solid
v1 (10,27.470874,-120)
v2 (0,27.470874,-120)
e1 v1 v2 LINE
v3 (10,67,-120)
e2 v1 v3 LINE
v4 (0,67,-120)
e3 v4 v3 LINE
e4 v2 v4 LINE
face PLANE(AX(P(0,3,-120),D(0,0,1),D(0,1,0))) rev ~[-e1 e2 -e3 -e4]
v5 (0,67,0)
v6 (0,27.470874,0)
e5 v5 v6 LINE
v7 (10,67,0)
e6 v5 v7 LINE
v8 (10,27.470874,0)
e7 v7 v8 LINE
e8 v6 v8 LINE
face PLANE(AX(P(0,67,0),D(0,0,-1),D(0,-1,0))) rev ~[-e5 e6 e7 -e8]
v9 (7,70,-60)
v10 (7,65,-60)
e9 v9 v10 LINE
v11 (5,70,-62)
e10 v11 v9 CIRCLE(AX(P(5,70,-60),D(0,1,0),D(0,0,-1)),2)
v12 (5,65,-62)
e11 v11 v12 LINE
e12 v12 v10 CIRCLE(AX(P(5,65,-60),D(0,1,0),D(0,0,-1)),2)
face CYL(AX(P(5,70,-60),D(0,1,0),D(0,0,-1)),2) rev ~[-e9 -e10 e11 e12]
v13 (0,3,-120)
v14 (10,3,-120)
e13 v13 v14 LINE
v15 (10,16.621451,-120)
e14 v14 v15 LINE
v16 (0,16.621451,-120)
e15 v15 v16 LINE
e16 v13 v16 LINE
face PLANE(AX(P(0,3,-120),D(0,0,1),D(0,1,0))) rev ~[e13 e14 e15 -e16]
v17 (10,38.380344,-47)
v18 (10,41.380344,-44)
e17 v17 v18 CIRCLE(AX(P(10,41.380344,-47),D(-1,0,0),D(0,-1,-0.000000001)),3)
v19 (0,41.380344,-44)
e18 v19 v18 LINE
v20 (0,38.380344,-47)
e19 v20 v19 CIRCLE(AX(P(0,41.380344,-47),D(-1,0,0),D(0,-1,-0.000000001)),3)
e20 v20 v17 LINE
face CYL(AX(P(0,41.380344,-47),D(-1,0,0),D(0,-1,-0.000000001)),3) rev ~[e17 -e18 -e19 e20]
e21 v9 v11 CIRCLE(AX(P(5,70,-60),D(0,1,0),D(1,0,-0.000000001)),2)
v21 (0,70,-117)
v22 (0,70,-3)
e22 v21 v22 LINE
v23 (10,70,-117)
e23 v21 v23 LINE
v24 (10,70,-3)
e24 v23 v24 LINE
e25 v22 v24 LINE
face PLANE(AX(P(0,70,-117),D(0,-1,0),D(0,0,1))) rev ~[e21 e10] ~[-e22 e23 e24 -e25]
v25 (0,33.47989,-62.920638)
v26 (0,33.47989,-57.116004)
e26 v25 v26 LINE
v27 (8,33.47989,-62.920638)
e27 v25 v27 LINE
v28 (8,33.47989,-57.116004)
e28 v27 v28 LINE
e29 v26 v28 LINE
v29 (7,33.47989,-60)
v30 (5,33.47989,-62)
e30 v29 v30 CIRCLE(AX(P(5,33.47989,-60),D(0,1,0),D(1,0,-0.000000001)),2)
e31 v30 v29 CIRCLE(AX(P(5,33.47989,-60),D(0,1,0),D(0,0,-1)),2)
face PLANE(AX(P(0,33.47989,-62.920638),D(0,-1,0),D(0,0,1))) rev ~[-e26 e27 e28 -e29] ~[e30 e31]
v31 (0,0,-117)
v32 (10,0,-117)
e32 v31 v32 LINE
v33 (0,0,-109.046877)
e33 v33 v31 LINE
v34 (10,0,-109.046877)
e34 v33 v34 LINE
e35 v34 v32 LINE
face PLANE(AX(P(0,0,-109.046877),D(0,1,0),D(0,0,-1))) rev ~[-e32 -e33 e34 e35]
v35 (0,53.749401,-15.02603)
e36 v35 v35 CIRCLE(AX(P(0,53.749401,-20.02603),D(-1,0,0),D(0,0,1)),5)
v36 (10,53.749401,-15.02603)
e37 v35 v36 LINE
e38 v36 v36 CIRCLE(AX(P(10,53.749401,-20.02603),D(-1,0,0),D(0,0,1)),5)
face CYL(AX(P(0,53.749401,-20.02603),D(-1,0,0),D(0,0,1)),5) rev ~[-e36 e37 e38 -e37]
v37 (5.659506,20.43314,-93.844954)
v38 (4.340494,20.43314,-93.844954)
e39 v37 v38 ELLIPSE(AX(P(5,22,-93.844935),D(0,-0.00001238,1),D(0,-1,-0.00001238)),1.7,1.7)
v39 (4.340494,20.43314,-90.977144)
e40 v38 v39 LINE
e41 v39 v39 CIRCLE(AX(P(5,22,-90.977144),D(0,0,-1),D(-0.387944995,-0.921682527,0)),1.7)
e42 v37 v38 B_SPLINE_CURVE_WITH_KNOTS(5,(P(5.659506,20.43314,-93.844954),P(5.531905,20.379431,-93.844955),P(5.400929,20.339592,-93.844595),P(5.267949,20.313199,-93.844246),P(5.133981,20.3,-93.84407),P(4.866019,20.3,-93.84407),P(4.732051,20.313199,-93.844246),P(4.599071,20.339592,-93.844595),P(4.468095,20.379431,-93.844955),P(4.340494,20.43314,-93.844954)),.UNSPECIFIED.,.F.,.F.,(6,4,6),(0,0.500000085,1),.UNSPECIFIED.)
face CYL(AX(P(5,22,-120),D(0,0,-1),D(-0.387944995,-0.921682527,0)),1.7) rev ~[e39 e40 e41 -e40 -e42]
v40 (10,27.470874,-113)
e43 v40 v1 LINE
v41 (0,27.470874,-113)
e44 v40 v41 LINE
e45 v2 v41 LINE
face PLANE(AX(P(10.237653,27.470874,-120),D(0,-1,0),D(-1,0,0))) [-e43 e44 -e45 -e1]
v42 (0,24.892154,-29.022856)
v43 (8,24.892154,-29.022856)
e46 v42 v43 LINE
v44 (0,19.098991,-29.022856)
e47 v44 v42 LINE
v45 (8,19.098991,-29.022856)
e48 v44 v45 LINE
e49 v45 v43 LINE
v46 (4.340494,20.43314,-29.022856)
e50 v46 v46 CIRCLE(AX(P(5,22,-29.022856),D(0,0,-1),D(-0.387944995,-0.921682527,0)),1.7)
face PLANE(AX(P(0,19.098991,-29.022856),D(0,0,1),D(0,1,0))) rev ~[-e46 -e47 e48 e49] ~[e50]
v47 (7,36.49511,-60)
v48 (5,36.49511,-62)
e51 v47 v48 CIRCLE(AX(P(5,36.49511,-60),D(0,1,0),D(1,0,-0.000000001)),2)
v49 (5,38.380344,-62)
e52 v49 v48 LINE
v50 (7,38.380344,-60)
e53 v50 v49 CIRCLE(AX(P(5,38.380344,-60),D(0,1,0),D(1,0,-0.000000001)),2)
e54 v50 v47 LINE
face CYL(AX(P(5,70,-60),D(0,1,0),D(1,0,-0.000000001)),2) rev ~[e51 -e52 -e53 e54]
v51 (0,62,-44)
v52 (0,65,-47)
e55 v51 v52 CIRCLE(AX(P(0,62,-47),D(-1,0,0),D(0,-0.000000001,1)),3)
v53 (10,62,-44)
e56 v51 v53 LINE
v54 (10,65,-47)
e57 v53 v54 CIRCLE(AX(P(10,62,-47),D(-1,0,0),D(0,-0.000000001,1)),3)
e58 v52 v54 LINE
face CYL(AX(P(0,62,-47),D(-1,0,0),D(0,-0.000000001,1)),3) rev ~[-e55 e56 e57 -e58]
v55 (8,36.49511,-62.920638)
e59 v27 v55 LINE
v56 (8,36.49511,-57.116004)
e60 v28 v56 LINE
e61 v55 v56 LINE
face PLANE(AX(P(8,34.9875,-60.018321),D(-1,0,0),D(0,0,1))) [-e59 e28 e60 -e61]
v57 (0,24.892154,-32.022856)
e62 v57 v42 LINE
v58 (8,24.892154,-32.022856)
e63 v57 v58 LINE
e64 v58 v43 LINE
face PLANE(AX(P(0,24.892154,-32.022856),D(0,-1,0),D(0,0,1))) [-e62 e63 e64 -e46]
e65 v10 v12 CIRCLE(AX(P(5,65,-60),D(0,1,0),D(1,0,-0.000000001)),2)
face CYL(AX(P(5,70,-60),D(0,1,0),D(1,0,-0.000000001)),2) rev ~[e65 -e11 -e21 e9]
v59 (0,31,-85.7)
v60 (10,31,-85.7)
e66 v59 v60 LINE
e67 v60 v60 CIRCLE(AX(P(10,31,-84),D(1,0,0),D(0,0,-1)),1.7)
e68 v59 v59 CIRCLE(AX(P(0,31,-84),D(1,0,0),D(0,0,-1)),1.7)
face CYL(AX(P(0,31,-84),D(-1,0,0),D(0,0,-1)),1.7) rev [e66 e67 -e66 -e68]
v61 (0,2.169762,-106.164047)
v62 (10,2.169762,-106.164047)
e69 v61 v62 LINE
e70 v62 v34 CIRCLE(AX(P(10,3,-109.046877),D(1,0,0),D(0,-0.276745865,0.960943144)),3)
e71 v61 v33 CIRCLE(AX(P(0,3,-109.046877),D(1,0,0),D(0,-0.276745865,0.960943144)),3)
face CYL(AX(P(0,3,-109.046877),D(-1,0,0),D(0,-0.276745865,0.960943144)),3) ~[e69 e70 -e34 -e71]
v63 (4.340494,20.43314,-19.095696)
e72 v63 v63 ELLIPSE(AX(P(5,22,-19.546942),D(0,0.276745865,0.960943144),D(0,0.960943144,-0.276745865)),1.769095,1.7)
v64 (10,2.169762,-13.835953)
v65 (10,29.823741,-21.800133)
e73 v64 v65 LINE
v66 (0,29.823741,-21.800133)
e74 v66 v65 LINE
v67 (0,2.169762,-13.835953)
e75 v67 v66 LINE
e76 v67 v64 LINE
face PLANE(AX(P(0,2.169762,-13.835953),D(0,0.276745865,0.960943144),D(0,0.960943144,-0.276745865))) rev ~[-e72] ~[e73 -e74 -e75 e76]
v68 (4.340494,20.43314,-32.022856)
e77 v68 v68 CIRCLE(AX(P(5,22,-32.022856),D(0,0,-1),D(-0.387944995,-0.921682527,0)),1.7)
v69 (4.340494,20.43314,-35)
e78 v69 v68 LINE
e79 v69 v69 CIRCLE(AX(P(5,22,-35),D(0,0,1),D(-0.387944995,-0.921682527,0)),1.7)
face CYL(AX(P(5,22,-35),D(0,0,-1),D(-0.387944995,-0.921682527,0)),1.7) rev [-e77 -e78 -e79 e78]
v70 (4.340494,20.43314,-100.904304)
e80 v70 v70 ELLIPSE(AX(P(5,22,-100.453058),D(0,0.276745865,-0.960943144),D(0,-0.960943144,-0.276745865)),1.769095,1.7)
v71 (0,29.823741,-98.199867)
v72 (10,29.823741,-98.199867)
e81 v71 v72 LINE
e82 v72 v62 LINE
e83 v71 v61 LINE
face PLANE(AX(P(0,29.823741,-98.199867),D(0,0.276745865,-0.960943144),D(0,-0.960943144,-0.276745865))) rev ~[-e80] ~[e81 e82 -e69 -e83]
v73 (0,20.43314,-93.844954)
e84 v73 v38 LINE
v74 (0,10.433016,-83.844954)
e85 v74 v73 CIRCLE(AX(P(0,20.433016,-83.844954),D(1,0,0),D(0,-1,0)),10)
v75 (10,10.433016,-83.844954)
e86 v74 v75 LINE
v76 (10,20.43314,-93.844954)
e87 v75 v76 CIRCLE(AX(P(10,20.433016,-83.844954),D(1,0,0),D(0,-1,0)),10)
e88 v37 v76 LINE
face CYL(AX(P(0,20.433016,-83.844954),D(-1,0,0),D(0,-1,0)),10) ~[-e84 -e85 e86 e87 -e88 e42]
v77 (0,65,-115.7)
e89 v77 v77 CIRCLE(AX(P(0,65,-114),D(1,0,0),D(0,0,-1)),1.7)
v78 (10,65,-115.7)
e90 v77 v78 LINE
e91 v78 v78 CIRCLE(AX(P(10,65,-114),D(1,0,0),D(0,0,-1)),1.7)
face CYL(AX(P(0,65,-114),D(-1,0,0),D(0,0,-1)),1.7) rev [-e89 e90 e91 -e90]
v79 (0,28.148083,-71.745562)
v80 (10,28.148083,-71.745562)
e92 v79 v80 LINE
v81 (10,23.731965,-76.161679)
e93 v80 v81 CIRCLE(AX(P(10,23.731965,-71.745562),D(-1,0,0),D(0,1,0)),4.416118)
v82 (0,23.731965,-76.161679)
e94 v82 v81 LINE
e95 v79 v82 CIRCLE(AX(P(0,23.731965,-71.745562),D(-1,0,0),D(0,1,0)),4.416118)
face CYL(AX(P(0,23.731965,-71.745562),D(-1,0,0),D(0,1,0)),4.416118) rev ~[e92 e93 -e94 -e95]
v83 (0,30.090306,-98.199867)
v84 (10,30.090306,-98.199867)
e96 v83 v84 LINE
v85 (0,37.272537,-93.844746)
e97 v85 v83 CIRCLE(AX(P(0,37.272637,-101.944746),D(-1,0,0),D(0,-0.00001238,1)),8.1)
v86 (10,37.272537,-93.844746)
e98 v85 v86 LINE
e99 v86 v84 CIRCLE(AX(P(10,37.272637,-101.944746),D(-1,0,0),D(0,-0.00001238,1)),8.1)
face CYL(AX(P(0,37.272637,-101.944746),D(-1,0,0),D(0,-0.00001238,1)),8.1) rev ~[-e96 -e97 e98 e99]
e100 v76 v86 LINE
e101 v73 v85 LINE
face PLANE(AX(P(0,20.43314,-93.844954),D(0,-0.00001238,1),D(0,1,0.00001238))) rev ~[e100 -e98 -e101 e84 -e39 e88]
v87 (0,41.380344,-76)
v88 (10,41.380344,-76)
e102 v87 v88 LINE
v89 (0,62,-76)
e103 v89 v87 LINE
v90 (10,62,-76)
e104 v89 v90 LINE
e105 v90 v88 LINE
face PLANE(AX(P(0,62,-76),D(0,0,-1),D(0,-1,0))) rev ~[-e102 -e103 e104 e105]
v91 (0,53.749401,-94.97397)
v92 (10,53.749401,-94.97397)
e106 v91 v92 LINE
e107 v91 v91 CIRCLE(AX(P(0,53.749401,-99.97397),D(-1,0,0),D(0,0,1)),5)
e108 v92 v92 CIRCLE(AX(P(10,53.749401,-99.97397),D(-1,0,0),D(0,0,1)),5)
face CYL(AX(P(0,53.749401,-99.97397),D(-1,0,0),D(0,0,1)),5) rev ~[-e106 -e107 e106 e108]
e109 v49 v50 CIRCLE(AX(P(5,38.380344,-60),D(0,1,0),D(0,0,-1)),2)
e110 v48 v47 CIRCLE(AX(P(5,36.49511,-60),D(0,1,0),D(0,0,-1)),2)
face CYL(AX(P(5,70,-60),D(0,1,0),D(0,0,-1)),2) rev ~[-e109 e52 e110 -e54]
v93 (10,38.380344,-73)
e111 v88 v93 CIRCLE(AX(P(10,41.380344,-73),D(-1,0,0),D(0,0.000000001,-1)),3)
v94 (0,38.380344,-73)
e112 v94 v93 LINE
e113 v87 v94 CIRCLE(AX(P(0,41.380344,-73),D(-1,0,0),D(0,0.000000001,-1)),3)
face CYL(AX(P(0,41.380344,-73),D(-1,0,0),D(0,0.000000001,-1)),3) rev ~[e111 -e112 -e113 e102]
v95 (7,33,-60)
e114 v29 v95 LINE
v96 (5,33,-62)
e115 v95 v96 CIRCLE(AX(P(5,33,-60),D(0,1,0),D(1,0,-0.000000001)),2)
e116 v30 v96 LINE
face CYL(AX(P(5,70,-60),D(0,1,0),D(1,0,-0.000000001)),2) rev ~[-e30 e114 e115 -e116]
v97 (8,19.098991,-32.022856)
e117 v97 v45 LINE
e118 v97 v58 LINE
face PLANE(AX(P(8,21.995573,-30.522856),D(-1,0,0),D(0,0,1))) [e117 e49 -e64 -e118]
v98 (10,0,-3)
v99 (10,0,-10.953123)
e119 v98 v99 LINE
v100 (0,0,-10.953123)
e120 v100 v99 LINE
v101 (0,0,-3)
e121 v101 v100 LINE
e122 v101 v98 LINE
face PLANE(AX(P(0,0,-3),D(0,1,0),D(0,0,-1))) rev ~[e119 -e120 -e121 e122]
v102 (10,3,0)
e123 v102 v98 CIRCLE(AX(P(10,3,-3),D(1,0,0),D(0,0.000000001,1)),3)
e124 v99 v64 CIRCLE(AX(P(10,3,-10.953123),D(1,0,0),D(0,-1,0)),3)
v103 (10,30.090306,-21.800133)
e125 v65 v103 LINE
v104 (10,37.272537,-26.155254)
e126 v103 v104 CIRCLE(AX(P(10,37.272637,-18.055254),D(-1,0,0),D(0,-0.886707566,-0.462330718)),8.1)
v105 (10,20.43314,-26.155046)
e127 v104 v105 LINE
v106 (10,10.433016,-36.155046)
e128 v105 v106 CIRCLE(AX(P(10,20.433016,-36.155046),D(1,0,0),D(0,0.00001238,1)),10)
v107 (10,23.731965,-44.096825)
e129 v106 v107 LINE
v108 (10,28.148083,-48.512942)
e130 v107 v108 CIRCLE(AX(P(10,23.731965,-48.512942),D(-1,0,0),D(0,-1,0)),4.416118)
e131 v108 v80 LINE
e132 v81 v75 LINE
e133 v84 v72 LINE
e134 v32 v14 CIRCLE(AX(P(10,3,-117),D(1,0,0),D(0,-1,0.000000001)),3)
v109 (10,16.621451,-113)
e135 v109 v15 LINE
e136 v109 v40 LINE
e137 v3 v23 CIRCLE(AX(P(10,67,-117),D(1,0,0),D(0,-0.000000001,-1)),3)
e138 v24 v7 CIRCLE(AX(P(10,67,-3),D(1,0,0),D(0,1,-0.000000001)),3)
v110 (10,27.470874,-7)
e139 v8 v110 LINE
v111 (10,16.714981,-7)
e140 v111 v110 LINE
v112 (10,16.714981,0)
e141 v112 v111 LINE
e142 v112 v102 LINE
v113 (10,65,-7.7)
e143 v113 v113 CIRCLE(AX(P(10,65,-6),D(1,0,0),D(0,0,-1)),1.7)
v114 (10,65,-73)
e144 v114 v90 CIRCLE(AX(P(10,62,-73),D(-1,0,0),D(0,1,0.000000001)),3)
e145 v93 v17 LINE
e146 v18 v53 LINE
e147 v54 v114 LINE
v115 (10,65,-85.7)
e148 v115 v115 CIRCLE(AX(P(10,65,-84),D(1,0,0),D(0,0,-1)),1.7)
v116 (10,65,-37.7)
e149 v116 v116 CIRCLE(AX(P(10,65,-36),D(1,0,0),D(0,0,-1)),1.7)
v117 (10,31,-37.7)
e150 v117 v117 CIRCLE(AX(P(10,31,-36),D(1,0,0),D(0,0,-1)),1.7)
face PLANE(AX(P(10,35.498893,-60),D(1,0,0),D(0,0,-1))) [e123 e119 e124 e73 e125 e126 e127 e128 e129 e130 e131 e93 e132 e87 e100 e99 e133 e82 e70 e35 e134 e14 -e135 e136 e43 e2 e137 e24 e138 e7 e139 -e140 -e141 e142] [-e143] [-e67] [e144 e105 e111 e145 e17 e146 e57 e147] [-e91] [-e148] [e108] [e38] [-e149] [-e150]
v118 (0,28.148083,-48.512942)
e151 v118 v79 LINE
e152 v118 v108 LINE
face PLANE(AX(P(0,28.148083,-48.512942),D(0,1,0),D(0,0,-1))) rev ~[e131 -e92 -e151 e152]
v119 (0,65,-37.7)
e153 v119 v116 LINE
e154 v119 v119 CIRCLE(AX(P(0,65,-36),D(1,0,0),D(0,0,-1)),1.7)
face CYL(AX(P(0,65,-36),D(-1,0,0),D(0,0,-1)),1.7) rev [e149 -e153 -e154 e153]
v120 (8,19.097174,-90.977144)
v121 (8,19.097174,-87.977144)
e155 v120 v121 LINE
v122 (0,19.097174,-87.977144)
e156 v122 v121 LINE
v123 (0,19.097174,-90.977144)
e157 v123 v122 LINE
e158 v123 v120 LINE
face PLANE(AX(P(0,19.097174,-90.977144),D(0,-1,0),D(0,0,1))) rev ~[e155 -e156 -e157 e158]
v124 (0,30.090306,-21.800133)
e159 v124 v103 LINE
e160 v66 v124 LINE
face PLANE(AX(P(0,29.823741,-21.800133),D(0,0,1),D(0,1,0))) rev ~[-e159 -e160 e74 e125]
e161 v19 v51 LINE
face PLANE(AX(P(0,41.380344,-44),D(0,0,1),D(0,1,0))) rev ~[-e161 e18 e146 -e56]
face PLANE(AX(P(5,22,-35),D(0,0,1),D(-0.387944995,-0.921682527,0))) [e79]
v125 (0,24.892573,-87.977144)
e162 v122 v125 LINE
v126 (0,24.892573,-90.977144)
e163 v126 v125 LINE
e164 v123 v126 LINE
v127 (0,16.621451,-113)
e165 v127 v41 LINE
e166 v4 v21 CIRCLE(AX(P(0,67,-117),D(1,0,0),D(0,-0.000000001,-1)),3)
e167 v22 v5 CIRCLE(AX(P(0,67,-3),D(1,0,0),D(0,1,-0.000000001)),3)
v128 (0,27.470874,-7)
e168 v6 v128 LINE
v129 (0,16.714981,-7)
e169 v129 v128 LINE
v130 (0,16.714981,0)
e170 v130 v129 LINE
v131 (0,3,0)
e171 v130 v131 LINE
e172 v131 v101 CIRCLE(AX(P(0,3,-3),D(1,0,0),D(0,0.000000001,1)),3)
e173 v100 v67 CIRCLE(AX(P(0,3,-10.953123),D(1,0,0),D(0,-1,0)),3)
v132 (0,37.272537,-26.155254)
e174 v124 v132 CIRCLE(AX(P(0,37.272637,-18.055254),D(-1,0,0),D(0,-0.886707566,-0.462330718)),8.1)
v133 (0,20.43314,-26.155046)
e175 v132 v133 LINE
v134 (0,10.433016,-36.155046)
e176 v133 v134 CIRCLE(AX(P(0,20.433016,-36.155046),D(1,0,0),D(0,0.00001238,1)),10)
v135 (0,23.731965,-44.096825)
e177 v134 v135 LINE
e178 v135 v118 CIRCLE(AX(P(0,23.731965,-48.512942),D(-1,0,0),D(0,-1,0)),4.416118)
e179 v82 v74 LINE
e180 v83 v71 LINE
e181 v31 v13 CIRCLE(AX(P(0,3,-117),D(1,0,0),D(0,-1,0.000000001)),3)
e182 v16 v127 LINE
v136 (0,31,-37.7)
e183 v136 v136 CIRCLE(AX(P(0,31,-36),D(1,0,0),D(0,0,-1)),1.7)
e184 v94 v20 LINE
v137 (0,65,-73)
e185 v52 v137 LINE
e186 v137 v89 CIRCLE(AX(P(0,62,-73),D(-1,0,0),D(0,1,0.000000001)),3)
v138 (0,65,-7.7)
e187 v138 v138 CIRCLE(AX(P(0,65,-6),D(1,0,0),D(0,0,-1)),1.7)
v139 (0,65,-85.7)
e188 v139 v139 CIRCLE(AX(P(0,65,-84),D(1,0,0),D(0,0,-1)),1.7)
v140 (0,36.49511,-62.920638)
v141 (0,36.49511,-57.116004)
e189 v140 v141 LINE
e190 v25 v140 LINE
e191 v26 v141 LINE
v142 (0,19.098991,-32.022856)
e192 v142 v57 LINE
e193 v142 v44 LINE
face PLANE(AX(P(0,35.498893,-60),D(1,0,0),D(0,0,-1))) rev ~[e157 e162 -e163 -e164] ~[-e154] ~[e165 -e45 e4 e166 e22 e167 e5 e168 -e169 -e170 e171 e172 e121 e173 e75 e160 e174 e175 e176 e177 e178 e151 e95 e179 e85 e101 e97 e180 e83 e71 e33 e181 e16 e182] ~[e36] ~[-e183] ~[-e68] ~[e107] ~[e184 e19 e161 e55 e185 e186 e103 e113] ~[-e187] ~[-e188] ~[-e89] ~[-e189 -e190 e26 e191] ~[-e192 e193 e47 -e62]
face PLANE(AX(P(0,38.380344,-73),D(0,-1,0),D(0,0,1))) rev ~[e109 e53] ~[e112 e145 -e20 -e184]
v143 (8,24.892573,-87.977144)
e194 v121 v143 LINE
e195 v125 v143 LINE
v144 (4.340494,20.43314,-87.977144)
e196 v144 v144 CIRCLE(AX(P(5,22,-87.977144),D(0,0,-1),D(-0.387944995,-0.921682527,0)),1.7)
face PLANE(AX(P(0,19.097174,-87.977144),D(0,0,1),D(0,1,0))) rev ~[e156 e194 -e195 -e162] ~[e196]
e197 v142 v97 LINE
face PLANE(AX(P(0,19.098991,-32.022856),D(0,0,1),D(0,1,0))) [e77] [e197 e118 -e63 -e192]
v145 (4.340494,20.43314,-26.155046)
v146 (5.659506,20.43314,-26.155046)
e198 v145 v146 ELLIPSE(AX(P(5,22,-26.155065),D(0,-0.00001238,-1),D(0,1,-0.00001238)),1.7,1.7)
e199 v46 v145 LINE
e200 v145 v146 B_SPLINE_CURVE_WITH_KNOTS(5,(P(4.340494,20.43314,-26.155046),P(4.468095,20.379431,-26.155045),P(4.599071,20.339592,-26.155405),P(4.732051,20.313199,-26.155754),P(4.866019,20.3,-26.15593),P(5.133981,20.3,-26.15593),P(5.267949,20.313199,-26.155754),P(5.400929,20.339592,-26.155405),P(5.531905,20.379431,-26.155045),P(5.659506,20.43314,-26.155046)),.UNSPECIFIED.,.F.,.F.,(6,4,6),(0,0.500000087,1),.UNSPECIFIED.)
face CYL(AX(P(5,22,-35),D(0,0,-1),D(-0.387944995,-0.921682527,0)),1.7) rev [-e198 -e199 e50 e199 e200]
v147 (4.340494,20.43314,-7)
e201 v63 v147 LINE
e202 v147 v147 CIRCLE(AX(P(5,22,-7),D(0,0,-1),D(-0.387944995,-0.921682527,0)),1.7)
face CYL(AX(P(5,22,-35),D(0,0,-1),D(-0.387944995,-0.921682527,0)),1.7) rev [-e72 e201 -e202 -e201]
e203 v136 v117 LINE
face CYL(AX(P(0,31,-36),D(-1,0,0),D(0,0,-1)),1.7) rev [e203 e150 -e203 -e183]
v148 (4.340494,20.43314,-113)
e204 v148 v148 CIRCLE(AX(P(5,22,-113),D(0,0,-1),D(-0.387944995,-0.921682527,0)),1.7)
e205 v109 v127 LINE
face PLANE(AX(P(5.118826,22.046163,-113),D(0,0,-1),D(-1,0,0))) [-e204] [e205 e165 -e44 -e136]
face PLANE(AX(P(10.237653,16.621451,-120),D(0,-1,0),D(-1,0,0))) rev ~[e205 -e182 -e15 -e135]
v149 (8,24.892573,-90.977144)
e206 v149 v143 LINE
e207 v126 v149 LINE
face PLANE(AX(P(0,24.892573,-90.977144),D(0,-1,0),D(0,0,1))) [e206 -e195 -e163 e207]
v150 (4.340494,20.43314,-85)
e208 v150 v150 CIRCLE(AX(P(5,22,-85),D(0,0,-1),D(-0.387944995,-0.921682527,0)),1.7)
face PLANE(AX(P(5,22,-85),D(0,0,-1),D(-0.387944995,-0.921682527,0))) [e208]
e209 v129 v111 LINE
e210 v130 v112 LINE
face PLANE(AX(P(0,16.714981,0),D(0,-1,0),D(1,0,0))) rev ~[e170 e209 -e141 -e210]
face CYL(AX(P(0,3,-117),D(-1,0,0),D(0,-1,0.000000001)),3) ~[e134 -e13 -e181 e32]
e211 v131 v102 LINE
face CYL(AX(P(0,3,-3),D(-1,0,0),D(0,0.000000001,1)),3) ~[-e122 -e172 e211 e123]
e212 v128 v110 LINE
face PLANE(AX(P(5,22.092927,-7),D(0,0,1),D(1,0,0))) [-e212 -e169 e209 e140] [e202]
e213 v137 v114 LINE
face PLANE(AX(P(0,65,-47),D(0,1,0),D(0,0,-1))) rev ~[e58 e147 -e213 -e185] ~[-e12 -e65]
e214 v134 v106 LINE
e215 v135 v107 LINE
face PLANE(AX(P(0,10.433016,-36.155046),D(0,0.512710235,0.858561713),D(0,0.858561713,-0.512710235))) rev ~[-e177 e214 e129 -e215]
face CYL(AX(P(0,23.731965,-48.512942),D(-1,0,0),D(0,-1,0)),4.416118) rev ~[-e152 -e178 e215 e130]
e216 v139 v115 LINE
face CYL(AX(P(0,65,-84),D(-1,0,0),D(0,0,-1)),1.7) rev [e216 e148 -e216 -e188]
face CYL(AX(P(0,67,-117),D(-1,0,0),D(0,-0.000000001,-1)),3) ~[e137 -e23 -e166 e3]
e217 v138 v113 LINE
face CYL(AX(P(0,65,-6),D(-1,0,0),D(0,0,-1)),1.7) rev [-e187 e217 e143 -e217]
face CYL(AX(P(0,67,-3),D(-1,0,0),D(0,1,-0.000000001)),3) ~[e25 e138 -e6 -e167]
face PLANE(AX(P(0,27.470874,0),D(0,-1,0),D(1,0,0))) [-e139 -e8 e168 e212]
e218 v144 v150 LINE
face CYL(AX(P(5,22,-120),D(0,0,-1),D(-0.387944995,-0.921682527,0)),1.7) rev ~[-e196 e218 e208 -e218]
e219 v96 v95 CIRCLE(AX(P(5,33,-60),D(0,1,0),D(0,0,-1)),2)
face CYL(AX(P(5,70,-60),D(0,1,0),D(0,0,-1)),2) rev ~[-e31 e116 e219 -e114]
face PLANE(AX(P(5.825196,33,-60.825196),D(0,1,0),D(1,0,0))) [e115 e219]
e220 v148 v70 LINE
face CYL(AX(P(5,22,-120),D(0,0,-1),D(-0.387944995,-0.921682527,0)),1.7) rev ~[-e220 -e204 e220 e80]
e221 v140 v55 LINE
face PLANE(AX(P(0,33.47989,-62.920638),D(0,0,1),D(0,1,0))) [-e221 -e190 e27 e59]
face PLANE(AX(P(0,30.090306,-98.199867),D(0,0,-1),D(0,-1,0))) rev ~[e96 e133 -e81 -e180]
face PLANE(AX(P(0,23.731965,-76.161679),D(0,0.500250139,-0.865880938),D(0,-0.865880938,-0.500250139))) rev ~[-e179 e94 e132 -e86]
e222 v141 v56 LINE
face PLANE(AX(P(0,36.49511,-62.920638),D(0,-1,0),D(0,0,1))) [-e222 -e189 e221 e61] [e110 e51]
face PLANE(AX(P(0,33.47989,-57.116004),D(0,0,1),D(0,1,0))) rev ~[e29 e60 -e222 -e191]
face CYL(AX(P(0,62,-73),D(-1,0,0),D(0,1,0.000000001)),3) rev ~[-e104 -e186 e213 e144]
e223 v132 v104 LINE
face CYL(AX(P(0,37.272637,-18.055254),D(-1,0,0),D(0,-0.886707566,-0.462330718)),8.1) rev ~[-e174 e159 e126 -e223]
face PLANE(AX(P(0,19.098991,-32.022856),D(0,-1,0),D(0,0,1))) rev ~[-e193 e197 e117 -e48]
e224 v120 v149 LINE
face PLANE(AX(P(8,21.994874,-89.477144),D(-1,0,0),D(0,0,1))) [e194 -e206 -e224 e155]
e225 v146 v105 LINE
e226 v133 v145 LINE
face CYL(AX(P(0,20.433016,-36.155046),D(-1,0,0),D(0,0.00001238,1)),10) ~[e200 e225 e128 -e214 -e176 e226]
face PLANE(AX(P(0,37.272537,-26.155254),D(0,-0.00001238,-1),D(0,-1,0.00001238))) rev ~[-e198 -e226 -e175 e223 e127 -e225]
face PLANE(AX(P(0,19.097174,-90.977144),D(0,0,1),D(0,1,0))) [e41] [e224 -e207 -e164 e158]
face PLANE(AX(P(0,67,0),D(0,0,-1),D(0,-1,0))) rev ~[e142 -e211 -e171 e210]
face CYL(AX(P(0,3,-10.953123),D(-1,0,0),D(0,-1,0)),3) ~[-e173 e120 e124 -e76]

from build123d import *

# Parameters (mm, degrees)
SKETCH_1_R          = 1.7
EXTRUDE_1_DEPTH     = 10
CUT_EXTRUDE_1_DEPTH = 37
SKETCH_3_W          = 3
SKETCH_3_H          = 5.795399196
SKETCH_3_W_2        = 5.804634465
SKETCH_3_H_2        = 3.015219691
SKETCH_3_H_3        = 5.79316294
CUT_EXTRUDE_2_DEPTH = 8
SKETCH_5_R          = 1.7
CUT_EXTRUDE_3_DEPTH = 35
CUT_EXTRUDE_START   = -35
SKETCH_6_R          = 1.7
CUT_EXTRUDE_4_DEPTH = 35
CUT_EXTRUDE_5_DEPTH = 10
SKETCH_9_R          = 5
CUT_EXTRUDE_6_DEPTH = 10
SKETCH_10_W         = 10
SKETCH_10_H         = 10.755893821
CUT_EXTRUDE_7_DEPTH = 7
SKETCH_13_W         = 10.237652643
SKETCH_13_H         = 10.849423333
CUT_EXTRUDE_8_DEPTH = 7


with BuildPart() as part:
    # Эскиз1 → Бобышка-Вытянуть1 (new body)
    with BuildSketch(Plane(origin=(0, 0, 0), x_dir=(0, 0, -1), z_dir=(1, 0, 0))):
        with BuildLine():
            Line((3, 0), (10.95312335, 0))
            ThreePointArc((10.95312335, 0), (12.757186433, 0.603052693), (13.835952782, 2.169762405))
            Line((13.835952782, 2.169762405), (21.800132861, 29.823741049))
            Line((21.800132861, 29.823741049), (21.800132861, 30.090305699))
            ThreePointArc((21.800132861, 30.090305699), (11.129115214, 41.472470419), (26.155254044, 37.272536706))
            Line((26.155254044, 37.272536706), (26.155045577, 20.433139704))
            ThreePointArc((26.155045577, 20.433139704), (29.083933995, 13.361991864), (36.155045576, 10.433015907))
            Line((36.155045576, 10.433015907), (83.844954424, 10.433015907))
            ThreePointArc((83.844954424, 10.433015907), (90.916066005, 13.361991864), (93.844954423, 20.433139704))
            Line((93.844954423, 20.433139704), (93.844745956, 37.272536706))
            ThreePointArc((93.844745956, 37.272536706), (108.870884786, 41.472470419), (98.199867139, 30.090305699))
            Line((98.199867139, 30.090305699), (98.199867139, 29.823741049))
            Line((98.199867139, 29.823741049), (106.164047218, 2.169762405))
            ThreePointArc((106.164047218, 2.169762405), (107.242813567, 0.603052693), (109.04687665, 0))
            Line((109.04687665, 0), (117, 0))
            ThreePointArc((117, 0), (119.121320344, 0.878679656), (120, 3))
            Line((120, 3), (120, 67))
            ThreePointArc((120, 67), (119.121320344, 69.121320344), (117, 70))
            Line((117, 70), (3, 70))
            ThreePointArc((3, 70), (0.878679656, 69.121320344), (0, 67))
            Line((0, 67), (0, 3))
            ThreePointArc((0, 3), (0.878679656, 0.878679656), (3, 0))
        make_face()
        with Locations((36, 65)):
            Circle(SKETCH_1_R, mode=Mode.SUBTRACT)
        with Locations((6, 65)):
            Circle(SKETCH_1_R, mode=Mode.SUBTRACT)
        with Locations((36, 31)):
            Circle(SKETCH_1_R, mode=Mode.SUBTRACT)
        with Locations((84, 31)):
            Circle(SKETCH_1_R, mode=Mode.SUBTRACT)
        with Locations((84, 65)):
            Circle(SKETCH_1_R, mode=Mode.SUBTRACT)
        with Locations((114, 65)):
            Circle(SKETCH_1_R, mode=Mode.SUBTRACT)
        with BuildLine():
            Line((47, 65), (73, 65))
            ThreePointArc((73, 65), (75.121320344, 64.121320344), (76, 62))
            Line((76, 62), (76, 41.380344056))
            ThreePointArc((76, 41.380344056), (75.121320344, 39.259023712), (73, 38.380344056))
            Line((73, 38.380344056), (47, 38.380344056))
            ThreePointArc((47, 38.380344056), (44.878679656, 39.259023712), (44, 41.380344056))
            Line((44, 41.380344056), (44, 62))
            ThreePointArc((44, 62), (44.878679656, 64.121320344), (47, 65))
        make_face(mode=Mode.SUBTRACT)
        with BuildLine():
            Line((48.512942473, 28.14808317), (71.745561711, 28.14808317))
            ThreePointArc((71.745561711, 28.14808317), (76.161679417, 23.731965464), (71.745561711, 19.315847758))
            Line((71.745561711, 19.315847758), (48.512942473, 19.315847758))
            ThreePointArc((48.512942473, 19.315847758), (44.096824767, 23.731965464), (48.512942473, 28.14808317))
        make_face(mode=Mode.SUBTRACT)
    extrude(amount=EXTRUDE_1_DEPTH)

    # Эскиз2 → Вырез-Вытянуть1 (cut)
    with BuildSketch(Plane(origin=(0, 70, 0), x_dir=(1, 0, 0), z_dir=(0, 1, 0))):
        with BuildLine():
            ThreePointArc((7, 60), (6.414213562, 61.414213562), (5, 62))
            Line((5, 62), (5, 60))
            Line((5, 60), (7, 60))
        make_face()
        with BuildLine():
            Line((5, 60), (5, 62))
            ThreePointArc((5, 62), (3.585786438, 58.585786438), (7, 60))
            Line((7, 60), (5, 60))
        make_face()
    extrude(amount=-CUT_EXTRUDE_1_DEPTH, mode=Mode.SUBTRACT)

    # Эскиз3 → Вырез-Вытянуть2 (cut)
    with BuildSketch(Plane.ZY):
        with Locations((-89.477143784, 21.994873796)):
            Rectangle(SKETCH_3_W, SKETCH_3_H)
        with Locations((-60.018321185, 34.987499707)):
            Rectangle(SKETCH_3_W_2, SKETCH_3_H_2)
        with Locations((-30.522856216, 21.995572621)):
            Rectangle(SKETCH_3_W, SKETCH_3_H_3)
    extrude(amount=-CUT_EXTRUDE_2_DEPTH, mode=Mode.SUBTRACT)

    # Эскиз5 → Вырез-Вытянуть3 (cut)
    with BuildSketch(Plane(origin=(0, 0, -120), x_dir=(-1, 0, 0), z_dir=(0, 0, -1))):
        with Locations(Location((-5, 22, 0), (0, 0, 292.826691269))):
            Circle(SKETCH_5_R)
    extrude(amount=-CUT_EXTRUDE_3_DEPTH, mode=Mode.SUBTRACT)

    # Эскиз6 → Вырез-Вытянуть4 (cut)
    with BuildSketch(Plane.XY.offset(CUT_EXTRUDE_START)):
        with Locations(Location((5, 22, 0), (0, 0, 247.173308731))):
            Circle(SKETCH_6_R)
    extrude(amount=CUT_EXTRUDE_4_DEPTH, mode=Mode.SUBTRACT)

    # Эскиз7 → Вырез-Вытянуть5 (cut)
    with BuildSketch(Plane.ZY):
        Polygon((-76.161679417, 23.731965464), (-83.844954424, 10.433015907), (-36.155045576, 10.433015907), (-44.096824767, 23.731965464), align=None)
    extrude(amount=-CUT_EXTRUDE_5_DEPTH, mode=Mode.SUBTRACT)

    # Эскиз9 → Вырез-Вытянуть6 (cut)
    with BuildSketch(Plane.ZY):
        with Locations((-99.973969782, 53.749400687)):
            Circle(SKETCH_9_R)
        with Locations((-20.026030218, 53.749400687)):
            Circle(SKETCH_9_R)
    extrude(amount=-CUT_EXTRUDE_6_DEPTH, mode=Mode.SUBTRACT)

    # Эскиз10 → Вырез-Вытянуть7 (cut)
    with BuildSketch(Plane.XY):
        with Locations((5, 22.092927416)):
            Rectangle(SKETCH_10_W, SKETCH_10_H)
    extrude(amount=-CUT_EXTRUDE_7_DEPTH, mode=Mode.SUBTRACT)

    # Эскиз13 → Вырез-Вытянуть8 (cut)
    with BuildSketch(Plane(origin=(0, 0, -120), x_dir=(-1, 0, 0), z_dir=(0, 0, -1))):
        with Locations((-5.118826322, 22.046162659)):
            Rectangle(SKETCH_13_W, SKETCH_13_H)
    extrude(amount=-CUT_EXTRUDE_8_DEPTH, mode=Mode.SUBTRACT)


solid = part.part
